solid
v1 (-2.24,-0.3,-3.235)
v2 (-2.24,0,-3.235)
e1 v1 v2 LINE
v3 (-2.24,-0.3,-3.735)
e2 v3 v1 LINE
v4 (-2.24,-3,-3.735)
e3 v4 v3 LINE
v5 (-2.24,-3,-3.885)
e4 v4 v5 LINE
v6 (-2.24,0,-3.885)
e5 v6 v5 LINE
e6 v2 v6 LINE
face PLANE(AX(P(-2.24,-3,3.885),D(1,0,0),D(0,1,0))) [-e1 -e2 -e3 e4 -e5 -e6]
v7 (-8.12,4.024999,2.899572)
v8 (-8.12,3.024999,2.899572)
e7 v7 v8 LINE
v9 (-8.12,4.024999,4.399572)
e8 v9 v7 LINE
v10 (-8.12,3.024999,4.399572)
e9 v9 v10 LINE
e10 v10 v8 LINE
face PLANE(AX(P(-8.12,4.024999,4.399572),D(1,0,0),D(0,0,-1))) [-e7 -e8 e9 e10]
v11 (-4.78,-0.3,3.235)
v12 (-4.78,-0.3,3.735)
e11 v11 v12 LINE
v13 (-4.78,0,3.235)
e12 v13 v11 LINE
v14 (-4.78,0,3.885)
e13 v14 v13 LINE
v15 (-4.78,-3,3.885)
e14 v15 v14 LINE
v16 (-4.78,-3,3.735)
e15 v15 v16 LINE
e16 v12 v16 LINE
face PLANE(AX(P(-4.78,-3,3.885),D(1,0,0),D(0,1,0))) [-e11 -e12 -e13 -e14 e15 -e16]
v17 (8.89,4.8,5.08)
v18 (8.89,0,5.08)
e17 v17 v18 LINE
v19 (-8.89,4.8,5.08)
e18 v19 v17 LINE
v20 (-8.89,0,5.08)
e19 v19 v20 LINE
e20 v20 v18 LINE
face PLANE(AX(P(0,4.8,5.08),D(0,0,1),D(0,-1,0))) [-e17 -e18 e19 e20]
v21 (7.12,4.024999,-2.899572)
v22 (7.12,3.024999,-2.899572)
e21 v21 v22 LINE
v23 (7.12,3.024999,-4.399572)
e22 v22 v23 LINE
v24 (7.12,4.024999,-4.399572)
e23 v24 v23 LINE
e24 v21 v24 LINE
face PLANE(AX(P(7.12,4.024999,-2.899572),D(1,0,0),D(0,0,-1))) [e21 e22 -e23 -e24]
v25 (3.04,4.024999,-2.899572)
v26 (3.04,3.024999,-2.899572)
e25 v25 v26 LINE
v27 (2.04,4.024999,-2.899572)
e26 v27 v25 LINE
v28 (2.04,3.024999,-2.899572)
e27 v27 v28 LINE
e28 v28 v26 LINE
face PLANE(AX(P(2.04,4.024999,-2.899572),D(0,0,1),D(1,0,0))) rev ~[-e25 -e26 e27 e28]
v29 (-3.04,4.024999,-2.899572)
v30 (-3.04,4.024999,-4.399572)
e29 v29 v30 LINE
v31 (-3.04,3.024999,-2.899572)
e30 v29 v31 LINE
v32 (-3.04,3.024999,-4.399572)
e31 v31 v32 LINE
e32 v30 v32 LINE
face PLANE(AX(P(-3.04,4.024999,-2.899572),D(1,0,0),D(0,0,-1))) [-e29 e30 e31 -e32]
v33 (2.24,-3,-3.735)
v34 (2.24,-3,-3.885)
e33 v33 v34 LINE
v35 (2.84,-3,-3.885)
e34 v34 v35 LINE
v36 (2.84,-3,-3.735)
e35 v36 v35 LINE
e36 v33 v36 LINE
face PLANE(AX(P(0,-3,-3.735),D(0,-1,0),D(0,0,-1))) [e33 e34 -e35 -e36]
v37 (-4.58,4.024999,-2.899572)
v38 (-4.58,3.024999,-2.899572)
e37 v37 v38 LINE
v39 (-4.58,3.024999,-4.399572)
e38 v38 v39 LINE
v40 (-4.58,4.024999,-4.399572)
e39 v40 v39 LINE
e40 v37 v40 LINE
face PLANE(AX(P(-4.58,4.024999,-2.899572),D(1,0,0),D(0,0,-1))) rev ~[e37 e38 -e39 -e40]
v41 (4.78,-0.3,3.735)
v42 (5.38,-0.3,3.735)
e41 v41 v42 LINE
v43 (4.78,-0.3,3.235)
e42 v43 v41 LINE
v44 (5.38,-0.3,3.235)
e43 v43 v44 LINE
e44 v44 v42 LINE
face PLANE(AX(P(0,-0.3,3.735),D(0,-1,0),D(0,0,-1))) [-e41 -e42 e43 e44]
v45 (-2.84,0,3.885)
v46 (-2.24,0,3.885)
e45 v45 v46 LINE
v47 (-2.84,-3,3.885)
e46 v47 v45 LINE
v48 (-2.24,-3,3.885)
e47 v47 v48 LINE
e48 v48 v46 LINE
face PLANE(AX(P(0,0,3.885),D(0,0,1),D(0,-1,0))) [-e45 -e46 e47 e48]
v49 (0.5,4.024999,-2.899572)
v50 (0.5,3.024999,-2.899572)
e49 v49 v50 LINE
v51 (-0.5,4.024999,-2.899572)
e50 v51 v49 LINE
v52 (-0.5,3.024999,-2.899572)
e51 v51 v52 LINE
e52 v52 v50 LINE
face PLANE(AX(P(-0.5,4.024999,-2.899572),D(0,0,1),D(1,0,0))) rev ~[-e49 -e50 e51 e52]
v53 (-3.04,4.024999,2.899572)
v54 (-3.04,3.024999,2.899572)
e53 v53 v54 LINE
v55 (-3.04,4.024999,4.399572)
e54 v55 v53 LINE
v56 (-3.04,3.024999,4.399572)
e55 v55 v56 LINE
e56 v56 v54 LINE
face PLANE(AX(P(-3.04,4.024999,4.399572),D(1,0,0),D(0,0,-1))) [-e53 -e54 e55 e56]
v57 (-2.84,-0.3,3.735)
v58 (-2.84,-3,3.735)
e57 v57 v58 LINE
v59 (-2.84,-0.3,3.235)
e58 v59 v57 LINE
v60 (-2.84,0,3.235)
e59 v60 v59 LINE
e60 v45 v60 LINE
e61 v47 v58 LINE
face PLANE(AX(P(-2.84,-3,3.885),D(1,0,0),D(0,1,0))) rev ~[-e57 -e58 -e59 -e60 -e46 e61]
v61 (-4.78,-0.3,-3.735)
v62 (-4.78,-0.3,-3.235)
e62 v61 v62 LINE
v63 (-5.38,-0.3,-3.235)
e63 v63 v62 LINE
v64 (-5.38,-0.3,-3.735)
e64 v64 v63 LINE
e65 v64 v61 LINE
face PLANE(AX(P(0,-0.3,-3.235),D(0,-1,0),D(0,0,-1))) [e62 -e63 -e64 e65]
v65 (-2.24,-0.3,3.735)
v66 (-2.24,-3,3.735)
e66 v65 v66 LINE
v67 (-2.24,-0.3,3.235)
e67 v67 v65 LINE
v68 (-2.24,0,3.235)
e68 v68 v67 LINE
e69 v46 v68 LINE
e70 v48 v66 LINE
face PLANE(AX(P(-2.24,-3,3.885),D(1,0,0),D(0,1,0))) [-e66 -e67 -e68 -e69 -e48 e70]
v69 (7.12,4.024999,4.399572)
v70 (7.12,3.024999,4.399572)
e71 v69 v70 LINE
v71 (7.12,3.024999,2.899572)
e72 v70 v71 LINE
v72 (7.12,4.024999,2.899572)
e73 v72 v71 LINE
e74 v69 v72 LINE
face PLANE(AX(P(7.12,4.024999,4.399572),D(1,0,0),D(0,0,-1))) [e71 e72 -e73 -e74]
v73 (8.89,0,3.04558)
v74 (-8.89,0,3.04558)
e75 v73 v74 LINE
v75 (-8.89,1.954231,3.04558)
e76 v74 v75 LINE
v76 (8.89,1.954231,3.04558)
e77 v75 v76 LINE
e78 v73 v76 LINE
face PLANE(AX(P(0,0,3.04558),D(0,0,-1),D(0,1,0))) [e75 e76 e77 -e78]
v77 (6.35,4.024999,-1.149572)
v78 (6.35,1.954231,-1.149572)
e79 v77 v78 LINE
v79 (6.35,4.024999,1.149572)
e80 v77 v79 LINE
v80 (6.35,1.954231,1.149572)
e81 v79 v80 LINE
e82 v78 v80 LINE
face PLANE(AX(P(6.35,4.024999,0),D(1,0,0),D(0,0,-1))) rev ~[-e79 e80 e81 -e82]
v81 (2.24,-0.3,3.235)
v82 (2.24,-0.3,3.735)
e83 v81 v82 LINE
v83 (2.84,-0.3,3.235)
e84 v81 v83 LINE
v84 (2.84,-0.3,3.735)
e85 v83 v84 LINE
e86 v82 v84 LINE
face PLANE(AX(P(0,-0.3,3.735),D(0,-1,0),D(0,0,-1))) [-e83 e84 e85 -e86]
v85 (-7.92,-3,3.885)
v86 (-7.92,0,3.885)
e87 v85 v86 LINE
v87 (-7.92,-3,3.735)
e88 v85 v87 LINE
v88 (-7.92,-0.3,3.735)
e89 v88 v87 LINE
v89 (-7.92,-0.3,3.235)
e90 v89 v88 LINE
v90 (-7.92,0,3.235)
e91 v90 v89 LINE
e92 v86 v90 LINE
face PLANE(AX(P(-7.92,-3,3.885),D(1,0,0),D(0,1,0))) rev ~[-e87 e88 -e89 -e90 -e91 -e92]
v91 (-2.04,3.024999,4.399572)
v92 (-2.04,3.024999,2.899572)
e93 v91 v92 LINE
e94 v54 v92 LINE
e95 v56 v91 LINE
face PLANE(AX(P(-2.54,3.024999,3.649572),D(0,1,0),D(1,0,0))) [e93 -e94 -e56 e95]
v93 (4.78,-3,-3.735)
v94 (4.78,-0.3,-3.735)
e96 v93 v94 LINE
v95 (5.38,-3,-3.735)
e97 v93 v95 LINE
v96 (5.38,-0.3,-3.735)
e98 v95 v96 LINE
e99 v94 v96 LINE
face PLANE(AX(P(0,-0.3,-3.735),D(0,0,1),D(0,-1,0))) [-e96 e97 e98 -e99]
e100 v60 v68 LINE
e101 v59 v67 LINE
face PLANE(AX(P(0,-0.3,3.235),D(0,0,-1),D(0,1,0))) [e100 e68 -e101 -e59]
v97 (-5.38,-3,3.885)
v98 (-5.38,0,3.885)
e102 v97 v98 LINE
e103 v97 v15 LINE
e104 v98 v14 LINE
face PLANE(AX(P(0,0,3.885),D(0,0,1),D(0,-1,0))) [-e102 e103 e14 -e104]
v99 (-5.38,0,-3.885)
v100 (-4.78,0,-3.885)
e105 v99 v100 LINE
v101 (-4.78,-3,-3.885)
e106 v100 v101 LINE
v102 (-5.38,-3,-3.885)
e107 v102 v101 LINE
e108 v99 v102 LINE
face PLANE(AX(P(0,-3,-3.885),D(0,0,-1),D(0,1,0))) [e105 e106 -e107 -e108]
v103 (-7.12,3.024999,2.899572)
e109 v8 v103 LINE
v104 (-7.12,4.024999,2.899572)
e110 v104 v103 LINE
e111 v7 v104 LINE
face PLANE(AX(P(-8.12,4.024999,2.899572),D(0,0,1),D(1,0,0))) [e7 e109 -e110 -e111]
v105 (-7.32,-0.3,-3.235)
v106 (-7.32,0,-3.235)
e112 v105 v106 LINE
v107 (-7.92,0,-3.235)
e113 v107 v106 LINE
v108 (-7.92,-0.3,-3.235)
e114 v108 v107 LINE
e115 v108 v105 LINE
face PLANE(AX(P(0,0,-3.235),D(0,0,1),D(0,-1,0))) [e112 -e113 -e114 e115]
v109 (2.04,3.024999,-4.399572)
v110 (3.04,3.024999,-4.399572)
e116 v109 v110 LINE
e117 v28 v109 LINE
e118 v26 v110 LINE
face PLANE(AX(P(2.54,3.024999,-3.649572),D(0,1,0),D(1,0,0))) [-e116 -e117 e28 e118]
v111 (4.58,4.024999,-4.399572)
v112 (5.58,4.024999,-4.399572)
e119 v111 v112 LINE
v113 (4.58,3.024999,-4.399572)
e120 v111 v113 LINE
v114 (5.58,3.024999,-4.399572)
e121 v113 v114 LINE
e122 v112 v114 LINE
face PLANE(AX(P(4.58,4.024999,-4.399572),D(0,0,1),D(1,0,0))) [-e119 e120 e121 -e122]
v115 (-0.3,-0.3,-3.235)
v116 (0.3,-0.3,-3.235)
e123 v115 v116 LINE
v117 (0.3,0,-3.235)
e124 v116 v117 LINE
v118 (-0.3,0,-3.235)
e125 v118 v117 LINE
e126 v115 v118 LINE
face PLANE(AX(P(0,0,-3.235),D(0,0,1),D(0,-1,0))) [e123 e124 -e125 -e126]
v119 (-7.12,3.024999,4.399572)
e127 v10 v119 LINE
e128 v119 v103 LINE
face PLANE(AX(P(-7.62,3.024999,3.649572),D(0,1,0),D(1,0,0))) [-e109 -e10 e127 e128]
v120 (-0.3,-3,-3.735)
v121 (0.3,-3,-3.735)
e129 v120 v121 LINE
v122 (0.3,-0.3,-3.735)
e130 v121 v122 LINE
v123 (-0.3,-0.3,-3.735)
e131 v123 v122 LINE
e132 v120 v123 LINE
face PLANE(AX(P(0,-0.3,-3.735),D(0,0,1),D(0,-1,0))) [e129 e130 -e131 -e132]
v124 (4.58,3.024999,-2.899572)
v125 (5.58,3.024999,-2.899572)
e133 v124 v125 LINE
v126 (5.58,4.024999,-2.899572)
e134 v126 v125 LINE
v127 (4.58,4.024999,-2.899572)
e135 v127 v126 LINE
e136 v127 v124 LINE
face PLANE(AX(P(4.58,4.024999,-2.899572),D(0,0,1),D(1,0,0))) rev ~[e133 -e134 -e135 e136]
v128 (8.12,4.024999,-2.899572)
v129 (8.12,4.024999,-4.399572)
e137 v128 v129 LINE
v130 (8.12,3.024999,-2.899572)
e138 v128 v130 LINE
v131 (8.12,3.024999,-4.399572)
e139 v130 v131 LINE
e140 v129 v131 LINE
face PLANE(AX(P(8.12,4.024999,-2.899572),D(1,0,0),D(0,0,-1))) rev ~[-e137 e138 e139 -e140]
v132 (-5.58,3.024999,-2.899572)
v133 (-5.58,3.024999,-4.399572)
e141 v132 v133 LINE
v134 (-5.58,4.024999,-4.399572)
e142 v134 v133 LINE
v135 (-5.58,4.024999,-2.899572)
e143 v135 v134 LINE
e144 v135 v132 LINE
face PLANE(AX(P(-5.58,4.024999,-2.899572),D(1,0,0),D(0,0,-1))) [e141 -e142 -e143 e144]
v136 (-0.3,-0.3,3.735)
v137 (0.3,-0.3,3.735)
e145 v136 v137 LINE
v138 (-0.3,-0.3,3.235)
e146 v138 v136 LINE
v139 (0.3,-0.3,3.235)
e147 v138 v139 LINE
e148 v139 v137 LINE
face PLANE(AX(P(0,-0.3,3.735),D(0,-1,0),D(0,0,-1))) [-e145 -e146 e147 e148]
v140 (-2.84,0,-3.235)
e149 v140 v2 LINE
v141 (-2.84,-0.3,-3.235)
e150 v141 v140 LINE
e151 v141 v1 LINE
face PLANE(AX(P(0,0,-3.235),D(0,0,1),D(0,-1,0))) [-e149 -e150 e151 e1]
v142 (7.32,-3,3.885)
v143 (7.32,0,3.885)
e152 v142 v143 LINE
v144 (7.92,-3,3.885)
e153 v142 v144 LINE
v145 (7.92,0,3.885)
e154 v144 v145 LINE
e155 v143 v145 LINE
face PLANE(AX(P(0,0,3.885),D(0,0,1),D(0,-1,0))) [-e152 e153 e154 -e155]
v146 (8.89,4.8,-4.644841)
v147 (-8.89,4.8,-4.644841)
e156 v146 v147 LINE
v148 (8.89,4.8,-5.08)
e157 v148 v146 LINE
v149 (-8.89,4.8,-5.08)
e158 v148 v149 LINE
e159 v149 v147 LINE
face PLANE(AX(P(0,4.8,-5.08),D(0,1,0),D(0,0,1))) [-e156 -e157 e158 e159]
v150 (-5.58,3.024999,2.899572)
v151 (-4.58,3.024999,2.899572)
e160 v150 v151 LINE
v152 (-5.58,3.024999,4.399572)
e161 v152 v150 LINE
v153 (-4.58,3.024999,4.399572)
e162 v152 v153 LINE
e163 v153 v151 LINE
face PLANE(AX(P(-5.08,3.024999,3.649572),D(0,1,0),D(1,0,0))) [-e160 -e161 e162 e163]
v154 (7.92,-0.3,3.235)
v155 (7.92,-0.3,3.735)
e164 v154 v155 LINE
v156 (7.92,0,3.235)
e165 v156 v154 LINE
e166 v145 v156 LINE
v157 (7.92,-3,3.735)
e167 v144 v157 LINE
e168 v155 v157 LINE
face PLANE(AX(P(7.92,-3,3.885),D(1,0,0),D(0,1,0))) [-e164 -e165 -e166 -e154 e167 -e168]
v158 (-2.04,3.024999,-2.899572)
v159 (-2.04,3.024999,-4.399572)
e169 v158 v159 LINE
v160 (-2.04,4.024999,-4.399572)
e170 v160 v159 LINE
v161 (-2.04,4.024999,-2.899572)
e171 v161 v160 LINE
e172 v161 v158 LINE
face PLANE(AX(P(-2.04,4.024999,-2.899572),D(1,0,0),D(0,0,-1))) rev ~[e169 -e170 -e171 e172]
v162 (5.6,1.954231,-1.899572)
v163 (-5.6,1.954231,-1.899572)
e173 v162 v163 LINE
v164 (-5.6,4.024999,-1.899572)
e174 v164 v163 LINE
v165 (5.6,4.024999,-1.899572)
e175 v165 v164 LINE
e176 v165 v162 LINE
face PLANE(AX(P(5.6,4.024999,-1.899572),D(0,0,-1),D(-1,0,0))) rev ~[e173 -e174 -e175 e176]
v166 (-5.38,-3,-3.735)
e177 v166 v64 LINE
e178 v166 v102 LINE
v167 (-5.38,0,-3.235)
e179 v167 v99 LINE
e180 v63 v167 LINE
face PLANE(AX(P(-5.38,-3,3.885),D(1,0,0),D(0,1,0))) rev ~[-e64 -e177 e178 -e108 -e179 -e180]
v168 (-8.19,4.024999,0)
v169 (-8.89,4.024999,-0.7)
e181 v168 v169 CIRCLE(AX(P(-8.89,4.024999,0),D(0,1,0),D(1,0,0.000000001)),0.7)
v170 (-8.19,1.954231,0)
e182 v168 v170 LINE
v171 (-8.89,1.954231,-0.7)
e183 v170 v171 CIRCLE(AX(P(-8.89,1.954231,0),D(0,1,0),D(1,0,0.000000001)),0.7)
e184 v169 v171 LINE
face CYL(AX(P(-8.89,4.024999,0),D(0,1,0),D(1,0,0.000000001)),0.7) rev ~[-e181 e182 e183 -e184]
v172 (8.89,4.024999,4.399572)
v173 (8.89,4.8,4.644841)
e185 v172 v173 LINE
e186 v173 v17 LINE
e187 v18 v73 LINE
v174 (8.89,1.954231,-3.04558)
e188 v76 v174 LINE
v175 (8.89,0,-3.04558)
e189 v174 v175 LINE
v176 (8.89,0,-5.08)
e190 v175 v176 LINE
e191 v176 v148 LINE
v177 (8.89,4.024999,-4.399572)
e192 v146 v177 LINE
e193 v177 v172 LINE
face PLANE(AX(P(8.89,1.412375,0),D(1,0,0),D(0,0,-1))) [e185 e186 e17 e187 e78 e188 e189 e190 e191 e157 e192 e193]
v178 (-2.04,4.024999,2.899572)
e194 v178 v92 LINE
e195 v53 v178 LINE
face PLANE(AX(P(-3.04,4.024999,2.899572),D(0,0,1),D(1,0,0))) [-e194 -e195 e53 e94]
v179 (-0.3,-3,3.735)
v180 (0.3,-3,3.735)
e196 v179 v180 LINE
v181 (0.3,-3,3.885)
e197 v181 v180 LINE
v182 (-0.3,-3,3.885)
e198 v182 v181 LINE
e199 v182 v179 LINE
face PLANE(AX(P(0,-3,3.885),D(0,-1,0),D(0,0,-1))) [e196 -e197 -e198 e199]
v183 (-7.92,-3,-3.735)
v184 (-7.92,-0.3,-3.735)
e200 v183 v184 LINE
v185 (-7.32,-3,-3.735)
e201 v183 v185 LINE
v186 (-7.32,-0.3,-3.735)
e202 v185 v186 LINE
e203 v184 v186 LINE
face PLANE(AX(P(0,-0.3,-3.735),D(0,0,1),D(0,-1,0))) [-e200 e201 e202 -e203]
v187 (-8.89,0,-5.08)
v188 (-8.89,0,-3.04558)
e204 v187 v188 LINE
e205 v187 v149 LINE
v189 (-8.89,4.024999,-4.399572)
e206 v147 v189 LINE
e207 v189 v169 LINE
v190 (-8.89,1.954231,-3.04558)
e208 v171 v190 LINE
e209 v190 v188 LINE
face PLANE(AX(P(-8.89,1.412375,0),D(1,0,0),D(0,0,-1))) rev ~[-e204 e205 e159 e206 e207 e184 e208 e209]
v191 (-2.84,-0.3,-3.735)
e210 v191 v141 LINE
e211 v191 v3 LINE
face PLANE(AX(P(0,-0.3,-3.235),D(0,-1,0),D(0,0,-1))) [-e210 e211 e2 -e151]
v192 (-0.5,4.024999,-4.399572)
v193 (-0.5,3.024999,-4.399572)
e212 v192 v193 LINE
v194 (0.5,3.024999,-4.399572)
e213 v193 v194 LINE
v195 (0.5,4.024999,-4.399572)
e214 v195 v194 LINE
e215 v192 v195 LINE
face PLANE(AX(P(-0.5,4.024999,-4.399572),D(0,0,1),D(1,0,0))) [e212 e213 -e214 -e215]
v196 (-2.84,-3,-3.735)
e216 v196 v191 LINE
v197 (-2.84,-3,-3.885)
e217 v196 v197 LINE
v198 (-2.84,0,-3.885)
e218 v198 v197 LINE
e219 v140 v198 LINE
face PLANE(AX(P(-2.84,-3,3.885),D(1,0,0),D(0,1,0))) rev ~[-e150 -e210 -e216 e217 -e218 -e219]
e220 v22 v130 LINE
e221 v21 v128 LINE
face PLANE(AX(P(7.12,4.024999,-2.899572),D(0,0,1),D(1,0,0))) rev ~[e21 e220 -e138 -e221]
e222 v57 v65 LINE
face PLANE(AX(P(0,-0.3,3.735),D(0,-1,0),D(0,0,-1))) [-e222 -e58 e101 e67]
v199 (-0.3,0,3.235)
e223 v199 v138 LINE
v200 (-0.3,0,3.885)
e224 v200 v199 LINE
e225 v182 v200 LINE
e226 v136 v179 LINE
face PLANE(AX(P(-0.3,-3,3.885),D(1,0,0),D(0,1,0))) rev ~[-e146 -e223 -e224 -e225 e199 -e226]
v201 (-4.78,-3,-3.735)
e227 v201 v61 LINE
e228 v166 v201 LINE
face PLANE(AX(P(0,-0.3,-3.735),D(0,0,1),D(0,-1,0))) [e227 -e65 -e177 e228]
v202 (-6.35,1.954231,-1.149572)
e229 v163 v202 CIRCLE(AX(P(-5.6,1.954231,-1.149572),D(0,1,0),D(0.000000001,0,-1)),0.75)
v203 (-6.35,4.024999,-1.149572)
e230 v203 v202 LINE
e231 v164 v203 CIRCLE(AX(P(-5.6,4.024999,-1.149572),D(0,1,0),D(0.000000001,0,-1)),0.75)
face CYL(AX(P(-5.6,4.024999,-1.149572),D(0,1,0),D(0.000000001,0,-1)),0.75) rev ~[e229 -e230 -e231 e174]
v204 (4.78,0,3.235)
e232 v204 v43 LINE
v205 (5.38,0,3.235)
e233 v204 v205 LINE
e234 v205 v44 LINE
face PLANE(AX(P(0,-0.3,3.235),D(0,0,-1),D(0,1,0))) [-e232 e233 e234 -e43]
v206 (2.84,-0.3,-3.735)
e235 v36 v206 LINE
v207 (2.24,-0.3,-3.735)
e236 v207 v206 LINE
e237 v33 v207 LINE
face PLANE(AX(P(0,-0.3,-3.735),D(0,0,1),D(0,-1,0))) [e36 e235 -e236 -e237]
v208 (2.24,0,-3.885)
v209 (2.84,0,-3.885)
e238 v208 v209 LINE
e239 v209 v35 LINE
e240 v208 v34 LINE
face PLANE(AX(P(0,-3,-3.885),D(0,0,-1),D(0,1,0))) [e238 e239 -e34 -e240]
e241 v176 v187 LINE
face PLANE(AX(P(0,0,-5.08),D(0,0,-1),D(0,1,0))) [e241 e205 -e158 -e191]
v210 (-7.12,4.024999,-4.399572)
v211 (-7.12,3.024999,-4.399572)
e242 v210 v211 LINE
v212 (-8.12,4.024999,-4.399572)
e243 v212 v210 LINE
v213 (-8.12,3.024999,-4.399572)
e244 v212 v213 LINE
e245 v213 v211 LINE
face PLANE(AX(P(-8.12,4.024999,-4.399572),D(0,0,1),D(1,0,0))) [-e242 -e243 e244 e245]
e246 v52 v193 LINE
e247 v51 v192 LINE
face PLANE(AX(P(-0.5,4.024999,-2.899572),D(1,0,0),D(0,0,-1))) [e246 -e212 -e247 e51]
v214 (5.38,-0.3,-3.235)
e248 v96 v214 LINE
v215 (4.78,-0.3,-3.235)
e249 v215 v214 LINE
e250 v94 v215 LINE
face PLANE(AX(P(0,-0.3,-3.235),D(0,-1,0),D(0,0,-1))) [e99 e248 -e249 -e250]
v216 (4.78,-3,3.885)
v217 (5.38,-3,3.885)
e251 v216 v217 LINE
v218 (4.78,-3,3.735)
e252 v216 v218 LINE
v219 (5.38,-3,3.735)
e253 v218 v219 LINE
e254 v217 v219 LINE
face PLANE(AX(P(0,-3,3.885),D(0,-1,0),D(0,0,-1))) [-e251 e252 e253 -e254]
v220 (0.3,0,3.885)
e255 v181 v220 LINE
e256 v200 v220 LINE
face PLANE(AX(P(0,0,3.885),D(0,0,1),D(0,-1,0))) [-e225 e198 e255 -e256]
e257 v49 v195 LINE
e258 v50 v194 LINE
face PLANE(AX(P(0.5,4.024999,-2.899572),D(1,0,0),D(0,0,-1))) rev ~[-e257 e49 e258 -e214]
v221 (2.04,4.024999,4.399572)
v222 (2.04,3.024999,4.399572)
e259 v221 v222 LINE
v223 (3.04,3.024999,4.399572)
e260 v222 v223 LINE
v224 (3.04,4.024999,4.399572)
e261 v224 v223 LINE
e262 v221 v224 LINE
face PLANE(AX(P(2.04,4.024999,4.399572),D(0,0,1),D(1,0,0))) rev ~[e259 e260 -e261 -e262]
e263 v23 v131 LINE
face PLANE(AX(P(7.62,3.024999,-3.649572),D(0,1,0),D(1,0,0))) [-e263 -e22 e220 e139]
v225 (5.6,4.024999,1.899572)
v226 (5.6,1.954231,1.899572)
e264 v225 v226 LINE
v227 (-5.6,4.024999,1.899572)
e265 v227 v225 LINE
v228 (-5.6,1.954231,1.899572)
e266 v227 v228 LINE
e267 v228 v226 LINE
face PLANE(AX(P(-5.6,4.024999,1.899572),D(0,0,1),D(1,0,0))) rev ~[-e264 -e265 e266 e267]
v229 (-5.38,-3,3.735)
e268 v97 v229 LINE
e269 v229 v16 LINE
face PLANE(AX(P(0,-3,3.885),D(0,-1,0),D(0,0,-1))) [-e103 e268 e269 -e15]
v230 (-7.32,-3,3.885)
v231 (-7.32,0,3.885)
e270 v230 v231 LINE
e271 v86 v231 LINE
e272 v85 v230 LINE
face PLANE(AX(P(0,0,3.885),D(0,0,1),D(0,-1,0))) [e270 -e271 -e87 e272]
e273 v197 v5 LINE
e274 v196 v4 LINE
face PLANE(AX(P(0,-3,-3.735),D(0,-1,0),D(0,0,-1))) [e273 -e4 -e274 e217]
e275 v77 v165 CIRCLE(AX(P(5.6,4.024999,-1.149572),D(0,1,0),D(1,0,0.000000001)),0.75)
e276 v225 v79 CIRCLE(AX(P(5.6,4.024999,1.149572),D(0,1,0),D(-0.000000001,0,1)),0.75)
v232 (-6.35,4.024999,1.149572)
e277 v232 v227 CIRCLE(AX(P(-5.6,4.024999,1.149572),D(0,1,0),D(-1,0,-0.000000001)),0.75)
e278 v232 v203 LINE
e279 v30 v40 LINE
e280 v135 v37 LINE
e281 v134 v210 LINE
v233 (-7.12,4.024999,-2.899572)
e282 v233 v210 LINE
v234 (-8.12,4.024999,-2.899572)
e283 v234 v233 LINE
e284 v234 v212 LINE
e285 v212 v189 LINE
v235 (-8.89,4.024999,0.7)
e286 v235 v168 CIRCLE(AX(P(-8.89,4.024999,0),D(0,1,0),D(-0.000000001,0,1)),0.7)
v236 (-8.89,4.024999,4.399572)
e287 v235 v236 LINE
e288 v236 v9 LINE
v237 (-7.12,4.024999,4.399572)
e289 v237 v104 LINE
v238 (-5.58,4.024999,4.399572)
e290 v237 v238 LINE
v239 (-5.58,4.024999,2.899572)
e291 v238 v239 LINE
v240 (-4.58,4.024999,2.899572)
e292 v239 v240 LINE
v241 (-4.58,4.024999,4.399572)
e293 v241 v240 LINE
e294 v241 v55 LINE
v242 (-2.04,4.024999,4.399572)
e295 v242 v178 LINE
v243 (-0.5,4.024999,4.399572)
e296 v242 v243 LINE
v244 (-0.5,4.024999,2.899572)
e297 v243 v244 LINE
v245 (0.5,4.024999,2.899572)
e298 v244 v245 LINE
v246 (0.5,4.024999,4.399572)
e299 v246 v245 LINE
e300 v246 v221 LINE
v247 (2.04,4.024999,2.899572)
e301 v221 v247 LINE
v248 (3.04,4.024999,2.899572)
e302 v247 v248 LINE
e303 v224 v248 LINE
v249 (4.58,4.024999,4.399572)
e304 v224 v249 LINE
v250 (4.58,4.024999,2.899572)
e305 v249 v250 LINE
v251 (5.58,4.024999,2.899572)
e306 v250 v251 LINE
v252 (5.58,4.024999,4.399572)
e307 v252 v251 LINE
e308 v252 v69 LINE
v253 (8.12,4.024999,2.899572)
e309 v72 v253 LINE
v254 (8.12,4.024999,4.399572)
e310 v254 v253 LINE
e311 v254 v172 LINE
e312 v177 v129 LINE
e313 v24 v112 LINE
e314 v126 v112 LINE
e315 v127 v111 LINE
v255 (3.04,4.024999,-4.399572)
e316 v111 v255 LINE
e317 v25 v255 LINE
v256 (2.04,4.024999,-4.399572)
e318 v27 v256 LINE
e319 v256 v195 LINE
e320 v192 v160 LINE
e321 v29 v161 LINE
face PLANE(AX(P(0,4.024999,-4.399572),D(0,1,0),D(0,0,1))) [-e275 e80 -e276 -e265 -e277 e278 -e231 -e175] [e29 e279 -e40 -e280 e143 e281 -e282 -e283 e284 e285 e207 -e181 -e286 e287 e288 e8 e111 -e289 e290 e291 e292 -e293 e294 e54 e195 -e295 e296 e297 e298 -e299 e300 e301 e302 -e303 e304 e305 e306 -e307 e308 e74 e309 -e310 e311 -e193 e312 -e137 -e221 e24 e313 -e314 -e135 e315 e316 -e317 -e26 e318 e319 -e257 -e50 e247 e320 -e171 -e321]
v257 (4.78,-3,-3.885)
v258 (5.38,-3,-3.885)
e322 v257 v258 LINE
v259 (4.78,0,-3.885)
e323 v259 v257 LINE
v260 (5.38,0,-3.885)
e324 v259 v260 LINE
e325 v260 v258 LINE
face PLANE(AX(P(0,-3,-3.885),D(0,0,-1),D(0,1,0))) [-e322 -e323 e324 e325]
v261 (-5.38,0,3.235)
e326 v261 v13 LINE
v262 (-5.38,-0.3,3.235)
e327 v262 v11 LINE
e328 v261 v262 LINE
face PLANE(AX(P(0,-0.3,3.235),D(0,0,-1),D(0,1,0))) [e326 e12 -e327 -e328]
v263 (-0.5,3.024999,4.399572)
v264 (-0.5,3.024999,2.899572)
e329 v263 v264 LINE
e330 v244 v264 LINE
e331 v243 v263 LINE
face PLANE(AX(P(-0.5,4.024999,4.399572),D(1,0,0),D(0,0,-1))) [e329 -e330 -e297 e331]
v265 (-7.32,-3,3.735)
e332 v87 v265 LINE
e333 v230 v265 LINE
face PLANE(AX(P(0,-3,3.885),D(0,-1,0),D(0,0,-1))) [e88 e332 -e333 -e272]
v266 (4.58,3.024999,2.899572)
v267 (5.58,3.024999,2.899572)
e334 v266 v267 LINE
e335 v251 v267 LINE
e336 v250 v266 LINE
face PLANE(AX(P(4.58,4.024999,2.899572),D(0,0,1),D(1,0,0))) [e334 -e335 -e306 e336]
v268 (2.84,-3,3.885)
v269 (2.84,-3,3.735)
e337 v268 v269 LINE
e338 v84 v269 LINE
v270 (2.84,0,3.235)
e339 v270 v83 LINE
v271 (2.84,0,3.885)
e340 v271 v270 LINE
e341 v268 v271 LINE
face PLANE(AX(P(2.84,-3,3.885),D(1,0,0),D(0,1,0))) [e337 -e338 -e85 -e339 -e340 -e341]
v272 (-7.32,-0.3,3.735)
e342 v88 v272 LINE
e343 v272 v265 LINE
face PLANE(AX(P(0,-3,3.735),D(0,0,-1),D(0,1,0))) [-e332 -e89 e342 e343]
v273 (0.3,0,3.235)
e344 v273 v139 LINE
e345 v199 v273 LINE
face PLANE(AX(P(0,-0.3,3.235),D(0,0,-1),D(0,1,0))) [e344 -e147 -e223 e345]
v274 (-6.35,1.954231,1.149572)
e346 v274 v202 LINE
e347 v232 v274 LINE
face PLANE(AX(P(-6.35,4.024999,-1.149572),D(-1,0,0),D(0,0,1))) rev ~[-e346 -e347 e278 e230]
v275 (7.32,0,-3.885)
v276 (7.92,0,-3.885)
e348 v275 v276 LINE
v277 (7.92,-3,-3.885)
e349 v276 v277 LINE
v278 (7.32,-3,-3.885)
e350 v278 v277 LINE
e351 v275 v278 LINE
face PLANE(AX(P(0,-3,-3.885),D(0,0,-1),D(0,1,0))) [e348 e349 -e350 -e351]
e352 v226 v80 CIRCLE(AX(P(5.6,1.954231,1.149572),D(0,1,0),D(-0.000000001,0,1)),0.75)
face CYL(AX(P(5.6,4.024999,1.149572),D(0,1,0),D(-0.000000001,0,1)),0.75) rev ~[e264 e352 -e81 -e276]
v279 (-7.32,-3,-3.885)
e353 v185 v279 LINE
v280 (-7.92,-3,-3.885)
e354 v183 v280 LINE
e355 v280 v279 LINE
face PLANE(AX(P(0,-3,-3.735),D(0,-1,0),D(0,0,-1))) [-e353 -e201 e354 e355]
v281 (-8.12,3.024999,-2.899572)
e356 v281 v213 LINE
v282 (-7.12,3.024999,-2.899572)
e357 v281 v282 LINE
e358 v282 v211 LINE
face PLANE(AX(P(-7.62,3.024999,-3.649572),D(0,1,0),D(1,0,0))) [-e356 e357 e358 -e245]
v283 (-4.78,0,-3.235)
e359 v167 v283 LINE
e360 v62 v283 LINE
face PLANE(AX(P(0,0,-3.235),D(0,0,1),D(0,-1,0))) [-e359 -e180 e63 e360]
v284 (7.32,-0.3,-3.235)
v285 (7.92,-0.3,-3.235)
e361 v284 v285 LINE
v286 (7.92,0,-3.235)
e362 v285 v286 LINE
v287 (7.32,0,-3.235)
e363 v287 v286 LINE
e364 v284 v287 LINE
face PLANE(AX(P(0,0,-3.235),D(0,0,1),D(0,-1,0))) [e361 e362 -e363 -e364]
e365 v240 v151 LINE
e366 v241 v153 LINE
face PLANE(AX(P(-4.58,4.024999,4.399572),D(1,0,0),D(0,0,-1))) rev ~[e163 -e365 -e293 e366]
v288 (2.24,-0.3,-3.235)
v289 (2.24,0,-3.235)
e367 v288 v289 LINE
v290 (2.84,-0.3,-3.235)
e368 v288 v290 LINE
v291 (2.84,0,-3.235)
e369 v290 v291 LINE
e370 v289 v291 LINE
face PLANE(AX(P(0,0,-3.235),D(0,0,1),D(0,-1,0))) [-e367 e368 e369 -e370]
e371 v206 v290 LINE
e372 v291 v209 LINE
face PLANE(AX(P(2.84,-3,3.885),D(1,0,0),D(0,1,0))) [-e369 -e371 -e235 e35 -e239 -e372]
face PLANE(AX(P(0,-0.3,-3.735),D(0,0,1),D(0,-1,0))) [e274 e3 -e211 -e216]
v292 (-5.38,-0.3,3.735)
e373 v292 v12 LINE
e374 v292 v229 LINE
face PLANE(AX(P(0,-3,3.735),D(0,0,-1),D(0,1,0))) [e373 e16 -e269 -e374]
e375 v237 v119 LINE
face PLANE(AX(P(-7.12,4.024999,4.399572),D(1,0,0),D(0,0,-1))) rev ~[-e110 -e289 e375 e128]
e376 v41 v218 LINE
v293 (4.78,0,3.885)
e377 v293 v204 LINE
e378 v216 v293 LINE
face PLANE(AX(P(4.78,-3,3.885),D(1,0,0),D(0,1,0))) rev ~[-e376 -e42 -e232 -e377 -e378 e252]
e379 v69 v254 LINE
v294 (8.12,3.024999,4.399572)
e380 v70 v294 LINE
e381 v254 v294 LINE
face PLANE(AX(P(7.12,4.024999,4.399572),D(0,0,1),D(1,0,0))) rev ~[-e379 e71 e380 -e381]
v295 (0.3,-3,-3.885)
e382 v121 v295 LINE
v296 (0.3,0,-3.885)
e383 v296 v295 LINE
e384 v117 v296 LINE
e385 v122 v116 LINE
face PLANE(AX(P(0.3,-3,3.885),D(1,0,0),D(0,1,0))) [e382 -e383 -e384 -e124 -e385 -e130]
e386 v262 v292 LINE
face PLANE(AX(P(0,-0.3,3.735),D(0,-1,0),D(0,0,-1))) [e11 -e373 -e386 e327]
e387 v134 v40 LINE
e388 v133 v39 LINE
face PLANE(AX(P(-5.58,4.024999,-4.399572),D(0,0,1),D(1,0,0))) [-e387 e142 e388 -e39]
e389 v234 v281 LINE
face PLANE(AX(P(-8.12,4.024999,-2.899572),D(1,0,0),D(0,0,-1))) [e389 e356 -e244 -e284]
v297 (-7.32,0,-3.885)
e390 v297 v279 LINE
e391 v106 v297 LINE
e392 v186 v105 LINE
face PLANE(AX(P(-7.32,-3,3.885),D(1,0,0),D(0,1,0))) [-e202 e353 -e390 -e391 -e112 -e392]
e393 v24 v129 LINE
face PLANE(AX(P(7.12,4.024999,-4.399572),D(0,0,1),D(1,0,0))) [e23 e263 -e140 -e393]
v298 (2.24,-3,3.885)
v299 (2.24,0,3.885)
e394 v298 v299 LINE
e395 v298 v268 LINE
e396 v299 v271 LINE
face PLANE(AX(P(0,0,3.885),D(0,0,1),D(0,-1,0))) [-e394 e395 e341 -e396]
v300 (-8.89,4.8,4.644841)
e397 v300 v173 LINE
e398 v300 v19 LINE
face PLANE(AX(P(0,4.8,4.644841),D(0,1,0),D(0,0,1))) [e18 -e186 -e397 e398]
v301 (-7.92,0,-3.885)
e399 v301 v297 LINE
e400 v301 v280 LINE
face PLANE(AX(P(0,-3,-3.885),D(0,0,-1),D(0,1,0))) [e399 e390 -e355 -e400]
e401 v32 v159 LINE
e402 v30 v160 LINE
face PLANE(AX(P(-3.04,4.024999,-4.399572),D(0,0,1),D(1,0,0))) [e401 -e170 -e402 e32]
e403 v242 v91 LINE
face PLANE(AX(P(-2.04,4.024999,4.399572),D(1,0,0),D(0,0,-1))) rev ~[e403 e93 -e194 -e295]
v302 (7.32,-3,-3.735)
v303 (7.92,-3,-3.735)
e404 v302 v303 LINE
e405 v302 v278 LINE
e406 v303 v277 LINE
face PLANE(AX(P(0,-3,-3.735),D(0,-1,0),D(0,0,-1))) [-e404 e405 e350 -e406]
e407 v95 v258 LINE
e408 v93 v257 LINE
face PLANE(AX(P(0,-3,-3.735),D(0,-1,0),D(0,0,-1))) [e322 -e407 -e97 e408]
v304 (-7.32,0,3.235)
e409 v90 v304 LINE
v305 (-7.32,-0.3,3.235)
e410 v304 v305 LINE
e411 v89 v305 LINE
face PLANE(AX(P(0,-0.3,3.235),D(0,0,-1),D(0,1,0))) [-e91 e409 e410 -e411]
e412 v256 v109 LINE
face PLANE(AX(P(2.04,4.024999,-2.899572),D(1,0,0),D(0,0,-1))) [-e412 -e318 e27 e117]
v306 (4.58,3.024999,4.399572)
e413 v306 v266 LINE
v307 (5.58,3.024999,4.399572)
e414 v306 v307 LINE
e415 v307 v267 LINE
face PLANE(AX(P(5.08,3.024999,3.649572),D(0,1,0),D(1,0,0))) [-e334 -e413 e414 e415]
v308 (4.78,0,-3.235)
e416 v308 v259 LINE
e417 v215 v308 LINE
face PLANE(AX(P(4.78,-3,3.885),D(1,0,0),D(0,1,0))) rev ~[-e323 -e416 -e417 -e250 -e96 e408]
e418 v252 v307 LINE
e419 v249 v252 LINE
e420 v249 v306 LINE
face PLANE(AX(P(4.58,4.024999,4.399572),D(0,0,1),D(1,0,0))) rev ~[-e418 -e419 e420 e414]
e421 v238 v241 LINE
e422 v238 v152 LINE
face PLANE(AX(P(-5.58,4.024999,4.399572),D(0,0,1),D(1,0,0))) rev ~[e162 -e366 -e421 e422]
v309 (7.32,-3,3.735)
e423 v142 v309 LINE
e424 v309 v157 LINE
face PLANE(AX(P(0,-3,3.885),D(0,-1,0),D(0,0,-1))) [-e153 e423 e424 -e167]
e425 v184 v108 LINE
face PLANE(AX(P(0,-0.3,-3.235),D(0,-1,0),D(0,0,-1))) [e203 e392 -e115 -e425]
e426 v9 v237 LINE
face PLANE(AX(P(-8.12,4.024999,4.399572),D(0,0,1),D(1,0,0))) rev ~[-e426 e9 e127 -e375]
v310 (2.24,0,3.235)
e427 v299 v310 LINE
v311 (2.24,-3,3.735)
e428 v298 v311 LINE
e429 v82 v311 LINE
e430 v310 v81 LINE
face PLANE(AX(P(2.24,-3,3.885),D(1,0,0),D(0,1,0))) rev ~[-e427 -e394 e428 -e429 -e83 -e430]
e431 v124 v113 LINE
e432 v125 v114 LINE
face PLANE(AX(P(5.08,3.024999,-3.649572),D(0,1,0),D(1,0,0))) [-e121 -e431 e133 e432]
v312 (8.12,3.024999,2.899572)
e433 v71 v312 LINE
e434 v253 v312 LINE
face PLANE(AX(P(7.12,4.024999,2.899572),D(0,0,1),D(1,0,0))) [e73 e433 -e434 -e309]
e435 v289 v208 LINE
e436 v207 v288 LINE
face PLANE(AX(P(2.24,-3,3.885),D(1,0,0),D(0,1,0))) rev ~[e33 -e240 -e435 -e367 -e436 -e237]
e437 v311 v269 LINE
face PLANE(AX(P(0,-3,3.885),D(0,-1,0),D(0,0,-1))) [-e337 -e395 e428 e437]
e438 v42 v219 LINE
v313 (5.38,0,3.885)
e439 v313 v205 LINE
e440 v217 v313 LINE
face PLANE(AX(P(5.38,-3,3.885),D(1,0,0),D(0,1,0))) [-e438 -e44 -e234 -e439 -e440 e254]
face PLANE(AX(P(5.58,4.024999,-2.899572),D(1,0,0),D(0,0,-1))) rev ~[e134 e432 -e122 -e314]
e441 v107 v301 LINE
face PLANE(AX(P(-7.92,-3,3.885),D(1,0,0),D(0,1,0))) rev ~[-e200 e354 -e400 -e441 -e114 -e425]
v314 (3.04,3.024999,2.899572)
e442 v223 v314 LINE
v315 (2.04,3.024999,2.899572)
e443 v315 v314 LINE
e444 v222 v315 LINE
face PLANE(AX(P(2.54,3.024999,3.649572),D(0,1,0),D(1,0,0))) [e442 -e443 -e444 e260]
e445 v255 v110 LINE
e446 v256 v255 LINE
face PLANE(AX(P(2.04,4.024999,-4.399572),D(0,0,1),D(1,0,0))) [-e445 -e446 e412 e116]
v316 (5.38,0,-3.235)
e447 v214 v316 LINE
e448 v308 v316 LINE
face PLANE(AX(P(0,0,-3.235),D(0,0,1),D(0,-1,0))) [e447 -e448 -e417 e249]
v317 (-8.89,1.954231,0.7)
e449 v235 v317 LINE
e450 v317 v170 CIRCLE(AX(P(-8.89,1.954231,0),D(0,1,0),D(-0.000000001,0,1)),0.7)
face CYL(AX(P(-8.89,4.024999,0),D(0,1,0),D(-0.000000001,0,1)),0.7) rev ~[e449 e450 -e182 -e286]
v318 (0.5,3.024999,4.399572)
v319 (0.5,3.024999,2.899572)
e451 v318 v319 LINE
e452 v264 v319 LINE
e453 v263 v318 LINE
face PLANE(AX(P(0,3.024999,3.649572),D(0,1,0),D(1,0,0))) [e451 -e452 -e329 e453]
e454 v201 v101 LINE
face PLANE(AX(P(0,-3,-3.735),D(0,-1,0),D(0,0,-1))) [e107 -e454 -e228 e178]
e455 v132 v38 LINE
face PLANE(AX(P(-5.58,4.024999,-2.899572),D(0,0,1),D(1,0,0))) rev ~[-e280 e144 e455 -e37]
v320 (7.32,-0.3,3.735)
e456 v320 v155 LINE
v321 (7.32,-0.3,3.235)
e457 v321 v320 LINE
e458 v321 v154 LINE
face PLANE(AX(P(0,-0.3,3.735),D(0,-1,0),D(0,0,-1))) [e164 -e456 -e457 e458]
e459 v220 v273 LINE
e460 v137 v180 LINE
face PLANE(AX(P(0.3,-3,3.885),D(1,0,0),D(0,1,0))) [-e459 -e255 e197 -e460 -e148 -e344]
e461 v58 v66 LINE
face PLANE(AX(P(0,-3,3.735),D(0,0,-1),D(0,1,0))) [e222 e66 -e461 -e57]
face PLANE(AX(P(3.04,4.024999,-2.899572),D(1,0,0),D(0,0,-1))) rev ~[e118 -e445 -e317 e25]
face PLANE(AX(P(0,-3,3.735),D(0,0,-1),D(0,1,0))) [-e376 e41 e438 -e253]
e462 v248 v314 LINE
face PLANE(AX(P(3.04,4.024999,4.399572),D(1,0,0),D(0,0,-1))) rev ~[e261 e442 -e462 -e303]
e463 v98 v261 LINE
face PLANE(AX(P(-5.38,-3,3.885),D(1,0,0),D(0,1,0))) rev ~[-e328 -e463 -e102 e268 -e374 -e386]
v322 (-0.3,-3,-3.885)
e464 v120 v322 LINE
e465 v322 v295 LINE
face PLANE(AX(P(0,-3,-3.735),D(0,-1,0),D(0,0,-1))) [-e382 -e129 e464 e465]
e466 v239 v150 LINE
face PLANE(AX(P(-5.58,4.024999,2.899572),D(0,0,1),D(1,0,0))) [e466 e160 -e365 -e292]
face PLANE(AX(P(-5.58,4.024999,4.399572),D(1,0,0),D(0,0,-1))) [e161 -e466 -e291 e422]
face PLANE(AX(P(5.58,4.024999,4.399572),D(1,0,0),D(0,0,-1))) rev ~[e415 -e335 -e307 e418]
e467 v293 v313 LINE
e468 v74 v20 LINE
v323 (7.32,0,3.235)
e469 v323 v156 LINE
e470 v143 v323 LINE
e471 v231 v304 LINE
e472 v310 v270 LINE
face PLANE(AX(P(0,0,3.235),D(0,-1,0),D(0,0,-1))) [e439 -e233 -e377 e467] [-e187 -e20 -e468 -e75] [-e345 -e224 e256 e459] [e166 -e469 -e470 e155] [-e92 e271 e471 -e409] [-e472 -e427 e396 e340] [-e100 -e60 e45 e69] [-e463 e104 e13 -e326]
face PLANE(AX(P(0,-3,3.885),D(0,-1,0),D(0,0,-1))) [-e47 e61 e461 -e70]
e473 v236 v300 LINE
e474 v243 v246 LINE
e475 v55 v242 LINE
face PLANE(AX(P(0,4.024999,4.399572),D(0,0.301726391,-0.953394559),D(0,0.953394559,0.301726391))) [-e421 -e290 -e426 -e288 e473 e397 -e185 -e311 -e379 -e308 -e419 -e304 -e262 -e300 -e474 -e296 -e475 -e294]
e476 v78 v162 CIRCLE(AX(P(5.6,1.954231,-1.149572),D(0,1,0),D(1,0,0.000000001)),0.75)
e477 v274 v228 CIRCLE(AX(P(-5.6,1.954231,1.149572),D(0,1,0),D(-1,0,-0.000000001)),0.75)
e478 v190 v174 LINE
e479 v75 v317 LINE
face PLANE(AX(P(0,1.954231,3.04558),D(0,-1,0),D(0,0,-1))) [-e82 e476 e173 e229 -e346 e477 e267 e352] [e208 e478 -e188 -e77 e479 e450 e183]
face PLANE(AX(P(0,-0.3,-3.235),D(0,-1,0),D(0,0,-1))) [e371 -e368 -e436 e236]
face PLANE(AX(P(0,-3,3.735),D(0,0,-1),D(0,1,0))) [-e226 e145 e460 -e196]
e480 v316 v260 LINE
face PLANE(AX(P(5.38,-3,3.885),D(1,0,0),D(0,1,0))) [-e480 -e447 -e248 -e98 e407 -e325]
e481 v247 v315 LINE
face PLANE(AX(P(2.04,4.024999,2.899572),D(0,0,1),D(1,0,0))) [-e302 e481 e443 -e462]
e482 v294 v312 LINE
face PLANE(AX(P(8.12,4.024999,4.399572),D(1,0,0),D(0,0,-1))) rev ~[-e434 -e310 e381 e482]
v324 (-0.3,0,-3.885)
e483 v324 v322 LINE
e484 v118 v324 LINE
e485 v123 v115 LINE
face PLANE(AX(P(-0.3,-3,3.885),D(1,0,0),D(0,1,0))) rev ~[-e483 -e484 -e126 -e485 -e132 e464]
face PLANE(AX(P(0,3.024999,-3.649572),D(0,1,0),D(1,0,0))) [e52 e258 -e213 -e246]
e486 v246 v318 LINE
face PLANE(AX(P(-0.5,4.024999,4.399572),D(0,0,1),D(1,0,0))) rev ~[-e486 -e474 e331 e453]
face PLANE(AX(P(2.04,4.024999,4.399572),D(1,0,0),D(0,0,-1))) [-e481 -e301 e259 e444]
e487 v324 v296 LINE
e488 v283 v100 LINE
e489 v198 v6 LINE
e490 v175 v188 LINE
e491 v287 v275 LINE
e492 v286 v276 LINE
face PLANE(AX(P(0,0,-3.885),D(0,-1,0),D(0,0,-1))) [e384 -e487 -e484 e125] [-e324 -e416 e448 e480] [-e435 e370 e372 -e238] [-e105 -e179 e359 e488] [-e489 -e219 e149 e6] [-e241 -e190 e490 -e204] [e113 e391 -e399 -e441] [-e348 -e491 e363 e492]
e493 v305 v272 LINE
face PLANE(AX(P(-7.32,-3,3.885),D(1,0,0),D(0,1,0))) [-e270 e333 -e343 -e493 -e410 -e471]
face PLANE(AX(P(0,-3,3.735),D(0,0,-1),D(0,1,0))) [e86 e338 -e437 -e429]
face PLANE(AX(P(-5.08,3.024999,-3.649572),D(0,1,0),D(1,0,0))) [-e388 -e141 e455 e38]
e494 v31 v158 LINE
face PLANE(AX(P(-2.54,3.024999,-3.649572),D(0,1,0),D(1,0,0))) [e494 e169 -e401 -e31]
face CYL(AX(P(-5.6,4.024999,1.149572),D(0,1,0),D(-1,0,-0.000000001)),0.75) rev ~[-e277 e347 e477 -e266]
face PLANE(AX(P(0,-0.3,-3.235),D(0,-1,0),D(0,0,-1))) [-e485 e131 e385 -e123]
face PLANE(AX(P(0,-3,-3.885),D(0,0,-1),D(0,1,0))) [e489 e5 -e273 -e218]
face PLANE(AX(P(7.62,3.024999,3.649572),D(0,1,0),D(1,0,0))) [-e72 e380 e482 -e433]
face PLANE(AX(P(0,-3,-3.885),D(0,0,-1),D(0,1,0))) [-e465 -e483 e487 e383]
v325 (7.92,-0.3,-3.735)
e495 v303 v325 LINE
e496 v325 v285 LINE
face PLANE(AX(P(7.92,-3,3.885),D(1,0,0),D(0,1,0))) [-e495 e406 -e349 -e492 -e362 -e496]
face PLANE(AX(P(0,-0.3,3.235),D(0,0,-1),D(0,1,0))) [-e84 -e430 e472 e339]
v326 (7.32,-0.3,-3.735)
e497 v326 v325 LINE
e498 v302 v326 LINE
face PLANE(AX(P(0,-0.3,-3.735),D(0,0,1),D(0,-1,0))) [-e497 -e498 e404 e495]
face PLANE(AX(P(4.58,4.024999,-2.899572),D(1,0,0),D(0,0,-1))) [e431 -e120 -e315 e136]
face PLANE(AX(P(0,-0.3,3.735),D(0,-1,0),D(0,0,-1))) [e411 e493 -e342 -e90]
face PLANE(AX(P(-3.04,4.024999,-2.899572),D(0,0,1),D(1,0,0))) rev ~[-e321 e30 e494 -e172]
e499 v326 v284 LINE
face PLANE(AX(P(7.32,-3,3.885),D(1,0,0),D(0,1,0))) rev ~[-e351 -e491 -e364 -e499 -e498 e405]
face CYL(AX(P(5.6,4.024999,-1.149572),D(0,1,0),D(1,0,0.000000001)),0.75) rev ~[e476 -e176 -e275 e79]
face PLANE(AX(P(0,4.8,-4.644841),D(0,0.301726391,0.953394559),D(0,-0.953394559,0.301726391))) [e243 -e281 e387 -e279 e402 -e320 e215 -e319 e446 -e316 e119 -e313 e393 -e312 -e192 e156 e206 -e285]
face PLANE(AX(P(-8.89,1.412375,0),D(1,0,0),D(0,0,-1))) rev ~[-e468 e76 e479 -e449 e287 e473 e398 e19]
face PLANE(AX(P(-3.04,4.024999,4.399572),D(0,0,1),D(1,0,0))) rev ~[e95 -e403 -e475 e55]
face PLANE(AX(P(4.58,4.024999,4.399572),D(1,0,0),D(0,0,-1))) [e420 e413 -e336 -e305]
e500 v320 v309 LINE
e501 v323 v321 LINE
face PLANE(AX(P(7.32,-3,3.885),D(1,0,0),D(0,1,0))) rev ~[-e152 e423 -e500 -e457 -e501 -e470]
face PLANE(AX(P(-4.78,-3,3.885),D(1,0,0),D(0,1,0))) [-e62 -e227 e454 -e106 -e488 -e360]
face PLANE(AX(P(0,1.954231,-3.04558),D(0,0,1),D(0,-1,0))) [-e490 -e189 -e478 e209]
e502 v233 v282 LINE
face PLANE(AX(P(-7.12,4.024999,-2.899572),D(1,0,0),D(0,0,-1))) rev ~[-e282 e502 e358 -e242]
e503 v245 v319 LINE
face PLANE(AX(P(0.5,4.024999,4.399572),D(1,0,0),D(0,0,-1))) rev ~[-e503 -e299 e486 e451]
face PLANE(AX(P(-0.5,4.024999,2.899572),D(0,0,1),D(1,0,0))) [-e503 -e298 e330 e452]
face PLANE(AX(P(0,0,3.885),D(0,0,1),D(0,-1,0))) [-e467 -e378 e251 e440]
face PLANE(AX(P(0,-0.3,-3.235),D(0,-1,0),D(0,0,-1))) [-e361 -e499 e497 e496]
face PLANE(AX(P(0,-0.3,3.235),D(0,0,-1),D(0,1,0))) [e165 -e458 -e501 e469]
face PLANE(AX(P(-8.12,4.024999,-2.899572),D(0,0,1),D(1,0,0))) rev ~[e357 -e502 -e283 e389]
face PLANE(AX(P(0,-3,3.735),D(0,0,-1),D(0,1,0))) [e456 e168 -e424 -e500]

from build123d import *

# Parameters (mm, degrees)
EXTRUDE_1_DEPTH     = 8.89
CUT_EXTRUDE_1_REACH = 14.417
CUT_EXTRUDE_2_REACH = 14.417
SKETCH_3_4_W        = 1
SKETCH_3_4_H        = 1.5
CUT_EXTRUDE_3_DEPTH = 1
SKETCH_4_W          = 0.97
SKETCH_4_H          = 3
SKETCH_4_W_2        = 1.94
CUT_EXTRUDE_4_DEPTH = 14.507158287


with BuildPart() as part:
    # Эскиз2 → Бобышка-Вытянуть1 (new, symmetric)
    with BuildSketch(Plane(origin=(0, 0, 0), x_dir=(0, 0, -1), z_dir=(1, 0, 0))):
        Polygon((4.399571873, 4.024999392), (-4.399571873, 4.024999392), (-4.64484088, 4.8), (-5.08, 4.8), (-5.08, 0), (-3.885, 0), (-3.885, -3), (-3.735, -3), (-3.735, -0.3), (-3.235, -0.3), (-3.235, 0), (-3.045579843, 0), (-3.045579843, 1.95423056), (3.045579843, 1.95423056), (3.045579843, 0), (3.235, 0), (3.235, -0.3), (3.735, -0.3), (3.735, -3), (3.885, -3), (3.885, 0), (5.08, 0), (5.08, 4.8), (4.64484088, 4.8), align=None)
    extrude(amount=EXTRUDE_1_DEPTH, both=True)

    # Эскиз3 → Вырез-Вытянуть1 (cut, up to next)
    with BuildSketch(Plane(origin=(0, 4.024999392, 0), x_dir=(1, 0, 0), z_dir=(0, 1, 0)), mode=Mode.PRIVATE) as cut_extrude_1_sk1:
        with BuildLine():
            Line((-8.89, 0.7), (-8.89, 0))
            Line((-8.89, 0), (-8.19, 0))
            ThreePointArc((-8.19, 0), (-8.395025253, 0.494974747), (-8.89, 0.7))
        make_face()
    cut_extrude_1_tool1 = extrude(cut_extrude_1_sk1.sketch, amount=-CUT_EXTRUDE_1_REACH, mode=Mode.PRIVATE) & part.part
    # Эскиз3 → Вырез-Вытянуть1 (cut, up to next)
    with BuildSketch(Plane(origin=(0, 4.024999392, 0), x_dir=(1, 0, 0), z_dir=(0, 1, 0)), mode=Mode.PRIVATE) as cut_extrude_1_sk2:
        with BuildLine():
            Line((-8.19, 0), (-8.89, 0))
            Line((-8.89, 0), (-8.89, -0.7))
            ThreePointArc((-8.89, -0.7), (-8.395025253, -0.494974747), (-8.19, 0))
        make_face()
    cut_extrude_1_tool2 = extrude(cut_extrude_1_sk2.sketch, amount=-CUT_EXTRUDE_1_REACH, mode=Mode.PRIVATE) & part.part
    # Эскиз3 → Вырез-Вытянуть1 (cut, up to next)
    with BuildSketch(Plane(origin=(0, 4.024999392, 0), x_dir=(1, 0, 0), z_dir=(0, 1, 0)), mode=Mode.PRIVATE) as cut_extrude_1_sk3:
        with BuildLine():
            Line((-8.89, 0.7), (-8.89, 0))
            Line((-8.89, 0), (-8.19, 0))
            ThreePointArc((-8.19, 0), (-8.395025253, 0.494974747), (-8.89, 0.7))
        make_face()
    cut_extrude_1_tool3 = extrude(cut_extrude_1_sk3.sketch, amount=-CUT_EXTRUDE_1_REACH, mode=Mode.PRIVATE) & part.part
    # Эскиз3 → Вырез-Вытянуть1 (cut, up to next)
    with BuildSketch(Plane(origin=(0, 4.024999392, 0), x_dir=(1, 0, 0), z_dir=(0, 1, 0)), mode=Mode.PRIVATE) as cut_extrude_1_sk4:
        with BuildLine():
            Line((-8.19, 0), (-8.89, 0))
            Line((-8.89, 0), (-8.89, -0.7))
            ThreePointArc((-8.89, -0.7), (-8.395025253, -0.494974747), (-8.19, 0))
        make_face()
    cut_extrude_1_tool4 = extrude(cut_extrude_1_sk4.sketch, amount=-CUT_EXTRUDE_1_REACH, mode=Mode.PRIVATE) & part.part
    add(cut_extrude_1_tool1.solids().sort_by_distance((-8.592911, 4.024999, -0.297089))[0], mode=Mode.SUBTRACT)
    add(cut_extrude_1_tool2.solids().sort_by_distance((-8.592911, 4.024999, 0.297089))[0], mode=Mode.SUBTRACT)
    add(cut_extrude_1_tool3.solids().sort_by_distance((-8.592911, 4.024999, -0.297089))[0], mode=Mode.SUBTRACT)
    add(cut_extrude_1_tool4.solids().sort_by_distance((-8.592911, 4.024999, 0.297089))[0], mode=Mode.SUBTRACT)

    # Эскиз3<3> → Вырез-Вытянуть2 (cut, up to next)
    with BuildSketch(Plane(origin=(0, 4.024999392, 0), x_dir=(1, 0, 0), z_dir=(0, 1, 0)), mode=Mode.PRIVATE) as cut_extrude_2_sk1:
        with BuildLine():
            Line((6.35, 0), (-6.35, 0))
            Line((-6.35, 0), (-6.35, -1.149571873))
            ThreePointArc((-6.35, -1.149571873), (-6.130330086, -1.679901959), (-5.6, -1.899571873))
            Line((-5.6, -1.899571873), (5.6, -1.899571873))
            ThreePointArc((5.6, -1.899571873), (6.130330086, -1.679901959), (6.35, -1.149571873))
            Line((6.35, -1.149571873), (6.35, 0))
        make_face()
    cut_extrude_2_tool1 = extrude(cut_extrude_2_sk1.sketch, amount=-CUT_EXTRUDE_2_REACH, mode=Mode.PRIVATE) & part.part
    # Эскиз3<3> → Вырез-Вытянуть2 (cut, up to next)
    with BuildSketch(Plane(origin=(0, 4.024999392, 0), x_dir=(1, 0, 0), z_dir=(0, 1, 0)), mode=Mode.PRIVATE) as cut_extrude_2_sk2:
        with BuildLine():
            Line((-6.35, 1.149571873), (-6.35, 0))
            Line((-6.35, 0), (6.35, 0))
            Line((6.35, 0), (6.35, 1.149571873))
            ThreePointArc((6.35, 1.149571873), (6.130330086, 1.679901959), (5.6, 1.899571873))
            Line((5.6, 1.899571873), (-5.6, 1.899571873))
            ThreePointArc((-5.6, 1.899571873), (-6.130330086, 1.679901959), (-6.35, 1.149571873))
        make_face()
    cut_extrude_2_tool2 = extrude(cut_extrude_2_sk2.sketch, amount=-CUT_EXTRUDE_2_REACH, mode=Mode.PRIVATE) & part.part
    add(cut_extrude_2_tool1.solids().sort_by_distance((0, 4.024999, 0.941878))[0], mode=Mode.SUBTRACT)
    add(cut_extrude_2_tool2.solids().sort_by_distance((0, 4.024999, -0.941878))[0], mode=Mode.SUBTRACT)

    # Эскиз3<4> → Вырез-Вытянуть3 (cut)
    with BuildSketch(Plane(origin=(0, 4.024999392, 0), x_dir=(1, 0, 0), z_dir=(0, 1, 0))):
        with Locations((-7.62, 3.649571873)):
            Rectangle(SKETCH_3_4_W, SKETCH_3_4_H)
        with Locations((-5.08, 3.649571873)):
            Rectangle(SKETCH_3_4_W, SKETCH_3_4_H)
        with Locations((-2.54, 3.649571873)):
            Rectangle(SKETCH_3_4_W, SKETCH_3_4_H)
        with Locations((0, 3.649571873)):
            Rectangle(SKETCH_3_4_W, SKETCH_3_4_H)
        with Locations((2.54, 3.649571873)):
            Rectangle(SKETCH_3_4_W, SKETCH_3_4_H)
        with Locations((5.08, 3.649571873)):
            Rectangle(SKETCH_3_4_W, SKETCH_3_4_H)
        with Locations((7.62, 3.649571873)):
            Rectangle(SKETCH_3_4_W, SKETCH_3_4_H)
        with Locations((7.62, -3.649571873)):
            Rectangle(SKETCH_3_4_W, SKETCH_3_4_H)
        with Locations((5.08, -3.649571873)):
            Rectangle(SKETCH_3_4_W, SKETCH_3_4_H)
        with Locations((2.54, -3.649571873)):
            Rectangle(SKETCH_3_4_W, SKETCH_3_4_H)
        with Locations((0, -3.649571873)):
            Rectangle(SKETCH_3_4_W, SKETCH_3_4_H)
        with Locations((-2.54, -3.649571873)):
            Rectangle(SKETCH_3_4_W, SKETCH_3_4_H)
        with Locations((-5.08, -3.649571873)):
            Rectangle(SKETCH_3_4_W, SKETCH_3_4_H)
        with Locations((-7.62, -3.649571873)):
            Rectangle(SKETCH_3_4_W, SKETCH_3_4_H)
    extrude(amount=-CUT_EXTRUDE_3_DEPTH, mode=Mode.SUBTRACT)

    # Эскиз4 → Вырез-Вытянуть4 (cut, through all)
    with BuildSketch(Plane.XY.offset(3.885)):
        with Locations((-8.405, -1.5)):
            Rectangle(SKETCH_4_W, SKETCH_4_H)
        with Locations((-6.35, -1.5)):
            Rectangle(SKETCH_4_W_2, SKETCH_4_H)
        with Locations((-3.81, -1.5)):
            Rectangle(SKETCH_4_W_2, SKETCH_4_H)
        with Locations((-1.27, -1.5)):
            Rectangle(SKETCH_4_W_2, SKETCH_4_H)
        with Locations((1.27, -1.5)):
            Rectangle(SKETCH_4_W_2, SKETCH_4_H)
        with Locations((3.81, -1.5)):
            Rectangle(SKETCH_4_W_2, SKETCH_4_H)
        with Locations((6.35, -1.5)):
            Rectangle(SKETCH_4_W_2, SKETCH_4_H)
        with Locations((8.405, -1.5)):
            Rectangle(SKETCH_4_W, SKETCH_4_H)
    extrude(amount=-CUT_EXTRUDE_4_DEPTH, mode=Mode.SUBTRACT)


solid = part.part
